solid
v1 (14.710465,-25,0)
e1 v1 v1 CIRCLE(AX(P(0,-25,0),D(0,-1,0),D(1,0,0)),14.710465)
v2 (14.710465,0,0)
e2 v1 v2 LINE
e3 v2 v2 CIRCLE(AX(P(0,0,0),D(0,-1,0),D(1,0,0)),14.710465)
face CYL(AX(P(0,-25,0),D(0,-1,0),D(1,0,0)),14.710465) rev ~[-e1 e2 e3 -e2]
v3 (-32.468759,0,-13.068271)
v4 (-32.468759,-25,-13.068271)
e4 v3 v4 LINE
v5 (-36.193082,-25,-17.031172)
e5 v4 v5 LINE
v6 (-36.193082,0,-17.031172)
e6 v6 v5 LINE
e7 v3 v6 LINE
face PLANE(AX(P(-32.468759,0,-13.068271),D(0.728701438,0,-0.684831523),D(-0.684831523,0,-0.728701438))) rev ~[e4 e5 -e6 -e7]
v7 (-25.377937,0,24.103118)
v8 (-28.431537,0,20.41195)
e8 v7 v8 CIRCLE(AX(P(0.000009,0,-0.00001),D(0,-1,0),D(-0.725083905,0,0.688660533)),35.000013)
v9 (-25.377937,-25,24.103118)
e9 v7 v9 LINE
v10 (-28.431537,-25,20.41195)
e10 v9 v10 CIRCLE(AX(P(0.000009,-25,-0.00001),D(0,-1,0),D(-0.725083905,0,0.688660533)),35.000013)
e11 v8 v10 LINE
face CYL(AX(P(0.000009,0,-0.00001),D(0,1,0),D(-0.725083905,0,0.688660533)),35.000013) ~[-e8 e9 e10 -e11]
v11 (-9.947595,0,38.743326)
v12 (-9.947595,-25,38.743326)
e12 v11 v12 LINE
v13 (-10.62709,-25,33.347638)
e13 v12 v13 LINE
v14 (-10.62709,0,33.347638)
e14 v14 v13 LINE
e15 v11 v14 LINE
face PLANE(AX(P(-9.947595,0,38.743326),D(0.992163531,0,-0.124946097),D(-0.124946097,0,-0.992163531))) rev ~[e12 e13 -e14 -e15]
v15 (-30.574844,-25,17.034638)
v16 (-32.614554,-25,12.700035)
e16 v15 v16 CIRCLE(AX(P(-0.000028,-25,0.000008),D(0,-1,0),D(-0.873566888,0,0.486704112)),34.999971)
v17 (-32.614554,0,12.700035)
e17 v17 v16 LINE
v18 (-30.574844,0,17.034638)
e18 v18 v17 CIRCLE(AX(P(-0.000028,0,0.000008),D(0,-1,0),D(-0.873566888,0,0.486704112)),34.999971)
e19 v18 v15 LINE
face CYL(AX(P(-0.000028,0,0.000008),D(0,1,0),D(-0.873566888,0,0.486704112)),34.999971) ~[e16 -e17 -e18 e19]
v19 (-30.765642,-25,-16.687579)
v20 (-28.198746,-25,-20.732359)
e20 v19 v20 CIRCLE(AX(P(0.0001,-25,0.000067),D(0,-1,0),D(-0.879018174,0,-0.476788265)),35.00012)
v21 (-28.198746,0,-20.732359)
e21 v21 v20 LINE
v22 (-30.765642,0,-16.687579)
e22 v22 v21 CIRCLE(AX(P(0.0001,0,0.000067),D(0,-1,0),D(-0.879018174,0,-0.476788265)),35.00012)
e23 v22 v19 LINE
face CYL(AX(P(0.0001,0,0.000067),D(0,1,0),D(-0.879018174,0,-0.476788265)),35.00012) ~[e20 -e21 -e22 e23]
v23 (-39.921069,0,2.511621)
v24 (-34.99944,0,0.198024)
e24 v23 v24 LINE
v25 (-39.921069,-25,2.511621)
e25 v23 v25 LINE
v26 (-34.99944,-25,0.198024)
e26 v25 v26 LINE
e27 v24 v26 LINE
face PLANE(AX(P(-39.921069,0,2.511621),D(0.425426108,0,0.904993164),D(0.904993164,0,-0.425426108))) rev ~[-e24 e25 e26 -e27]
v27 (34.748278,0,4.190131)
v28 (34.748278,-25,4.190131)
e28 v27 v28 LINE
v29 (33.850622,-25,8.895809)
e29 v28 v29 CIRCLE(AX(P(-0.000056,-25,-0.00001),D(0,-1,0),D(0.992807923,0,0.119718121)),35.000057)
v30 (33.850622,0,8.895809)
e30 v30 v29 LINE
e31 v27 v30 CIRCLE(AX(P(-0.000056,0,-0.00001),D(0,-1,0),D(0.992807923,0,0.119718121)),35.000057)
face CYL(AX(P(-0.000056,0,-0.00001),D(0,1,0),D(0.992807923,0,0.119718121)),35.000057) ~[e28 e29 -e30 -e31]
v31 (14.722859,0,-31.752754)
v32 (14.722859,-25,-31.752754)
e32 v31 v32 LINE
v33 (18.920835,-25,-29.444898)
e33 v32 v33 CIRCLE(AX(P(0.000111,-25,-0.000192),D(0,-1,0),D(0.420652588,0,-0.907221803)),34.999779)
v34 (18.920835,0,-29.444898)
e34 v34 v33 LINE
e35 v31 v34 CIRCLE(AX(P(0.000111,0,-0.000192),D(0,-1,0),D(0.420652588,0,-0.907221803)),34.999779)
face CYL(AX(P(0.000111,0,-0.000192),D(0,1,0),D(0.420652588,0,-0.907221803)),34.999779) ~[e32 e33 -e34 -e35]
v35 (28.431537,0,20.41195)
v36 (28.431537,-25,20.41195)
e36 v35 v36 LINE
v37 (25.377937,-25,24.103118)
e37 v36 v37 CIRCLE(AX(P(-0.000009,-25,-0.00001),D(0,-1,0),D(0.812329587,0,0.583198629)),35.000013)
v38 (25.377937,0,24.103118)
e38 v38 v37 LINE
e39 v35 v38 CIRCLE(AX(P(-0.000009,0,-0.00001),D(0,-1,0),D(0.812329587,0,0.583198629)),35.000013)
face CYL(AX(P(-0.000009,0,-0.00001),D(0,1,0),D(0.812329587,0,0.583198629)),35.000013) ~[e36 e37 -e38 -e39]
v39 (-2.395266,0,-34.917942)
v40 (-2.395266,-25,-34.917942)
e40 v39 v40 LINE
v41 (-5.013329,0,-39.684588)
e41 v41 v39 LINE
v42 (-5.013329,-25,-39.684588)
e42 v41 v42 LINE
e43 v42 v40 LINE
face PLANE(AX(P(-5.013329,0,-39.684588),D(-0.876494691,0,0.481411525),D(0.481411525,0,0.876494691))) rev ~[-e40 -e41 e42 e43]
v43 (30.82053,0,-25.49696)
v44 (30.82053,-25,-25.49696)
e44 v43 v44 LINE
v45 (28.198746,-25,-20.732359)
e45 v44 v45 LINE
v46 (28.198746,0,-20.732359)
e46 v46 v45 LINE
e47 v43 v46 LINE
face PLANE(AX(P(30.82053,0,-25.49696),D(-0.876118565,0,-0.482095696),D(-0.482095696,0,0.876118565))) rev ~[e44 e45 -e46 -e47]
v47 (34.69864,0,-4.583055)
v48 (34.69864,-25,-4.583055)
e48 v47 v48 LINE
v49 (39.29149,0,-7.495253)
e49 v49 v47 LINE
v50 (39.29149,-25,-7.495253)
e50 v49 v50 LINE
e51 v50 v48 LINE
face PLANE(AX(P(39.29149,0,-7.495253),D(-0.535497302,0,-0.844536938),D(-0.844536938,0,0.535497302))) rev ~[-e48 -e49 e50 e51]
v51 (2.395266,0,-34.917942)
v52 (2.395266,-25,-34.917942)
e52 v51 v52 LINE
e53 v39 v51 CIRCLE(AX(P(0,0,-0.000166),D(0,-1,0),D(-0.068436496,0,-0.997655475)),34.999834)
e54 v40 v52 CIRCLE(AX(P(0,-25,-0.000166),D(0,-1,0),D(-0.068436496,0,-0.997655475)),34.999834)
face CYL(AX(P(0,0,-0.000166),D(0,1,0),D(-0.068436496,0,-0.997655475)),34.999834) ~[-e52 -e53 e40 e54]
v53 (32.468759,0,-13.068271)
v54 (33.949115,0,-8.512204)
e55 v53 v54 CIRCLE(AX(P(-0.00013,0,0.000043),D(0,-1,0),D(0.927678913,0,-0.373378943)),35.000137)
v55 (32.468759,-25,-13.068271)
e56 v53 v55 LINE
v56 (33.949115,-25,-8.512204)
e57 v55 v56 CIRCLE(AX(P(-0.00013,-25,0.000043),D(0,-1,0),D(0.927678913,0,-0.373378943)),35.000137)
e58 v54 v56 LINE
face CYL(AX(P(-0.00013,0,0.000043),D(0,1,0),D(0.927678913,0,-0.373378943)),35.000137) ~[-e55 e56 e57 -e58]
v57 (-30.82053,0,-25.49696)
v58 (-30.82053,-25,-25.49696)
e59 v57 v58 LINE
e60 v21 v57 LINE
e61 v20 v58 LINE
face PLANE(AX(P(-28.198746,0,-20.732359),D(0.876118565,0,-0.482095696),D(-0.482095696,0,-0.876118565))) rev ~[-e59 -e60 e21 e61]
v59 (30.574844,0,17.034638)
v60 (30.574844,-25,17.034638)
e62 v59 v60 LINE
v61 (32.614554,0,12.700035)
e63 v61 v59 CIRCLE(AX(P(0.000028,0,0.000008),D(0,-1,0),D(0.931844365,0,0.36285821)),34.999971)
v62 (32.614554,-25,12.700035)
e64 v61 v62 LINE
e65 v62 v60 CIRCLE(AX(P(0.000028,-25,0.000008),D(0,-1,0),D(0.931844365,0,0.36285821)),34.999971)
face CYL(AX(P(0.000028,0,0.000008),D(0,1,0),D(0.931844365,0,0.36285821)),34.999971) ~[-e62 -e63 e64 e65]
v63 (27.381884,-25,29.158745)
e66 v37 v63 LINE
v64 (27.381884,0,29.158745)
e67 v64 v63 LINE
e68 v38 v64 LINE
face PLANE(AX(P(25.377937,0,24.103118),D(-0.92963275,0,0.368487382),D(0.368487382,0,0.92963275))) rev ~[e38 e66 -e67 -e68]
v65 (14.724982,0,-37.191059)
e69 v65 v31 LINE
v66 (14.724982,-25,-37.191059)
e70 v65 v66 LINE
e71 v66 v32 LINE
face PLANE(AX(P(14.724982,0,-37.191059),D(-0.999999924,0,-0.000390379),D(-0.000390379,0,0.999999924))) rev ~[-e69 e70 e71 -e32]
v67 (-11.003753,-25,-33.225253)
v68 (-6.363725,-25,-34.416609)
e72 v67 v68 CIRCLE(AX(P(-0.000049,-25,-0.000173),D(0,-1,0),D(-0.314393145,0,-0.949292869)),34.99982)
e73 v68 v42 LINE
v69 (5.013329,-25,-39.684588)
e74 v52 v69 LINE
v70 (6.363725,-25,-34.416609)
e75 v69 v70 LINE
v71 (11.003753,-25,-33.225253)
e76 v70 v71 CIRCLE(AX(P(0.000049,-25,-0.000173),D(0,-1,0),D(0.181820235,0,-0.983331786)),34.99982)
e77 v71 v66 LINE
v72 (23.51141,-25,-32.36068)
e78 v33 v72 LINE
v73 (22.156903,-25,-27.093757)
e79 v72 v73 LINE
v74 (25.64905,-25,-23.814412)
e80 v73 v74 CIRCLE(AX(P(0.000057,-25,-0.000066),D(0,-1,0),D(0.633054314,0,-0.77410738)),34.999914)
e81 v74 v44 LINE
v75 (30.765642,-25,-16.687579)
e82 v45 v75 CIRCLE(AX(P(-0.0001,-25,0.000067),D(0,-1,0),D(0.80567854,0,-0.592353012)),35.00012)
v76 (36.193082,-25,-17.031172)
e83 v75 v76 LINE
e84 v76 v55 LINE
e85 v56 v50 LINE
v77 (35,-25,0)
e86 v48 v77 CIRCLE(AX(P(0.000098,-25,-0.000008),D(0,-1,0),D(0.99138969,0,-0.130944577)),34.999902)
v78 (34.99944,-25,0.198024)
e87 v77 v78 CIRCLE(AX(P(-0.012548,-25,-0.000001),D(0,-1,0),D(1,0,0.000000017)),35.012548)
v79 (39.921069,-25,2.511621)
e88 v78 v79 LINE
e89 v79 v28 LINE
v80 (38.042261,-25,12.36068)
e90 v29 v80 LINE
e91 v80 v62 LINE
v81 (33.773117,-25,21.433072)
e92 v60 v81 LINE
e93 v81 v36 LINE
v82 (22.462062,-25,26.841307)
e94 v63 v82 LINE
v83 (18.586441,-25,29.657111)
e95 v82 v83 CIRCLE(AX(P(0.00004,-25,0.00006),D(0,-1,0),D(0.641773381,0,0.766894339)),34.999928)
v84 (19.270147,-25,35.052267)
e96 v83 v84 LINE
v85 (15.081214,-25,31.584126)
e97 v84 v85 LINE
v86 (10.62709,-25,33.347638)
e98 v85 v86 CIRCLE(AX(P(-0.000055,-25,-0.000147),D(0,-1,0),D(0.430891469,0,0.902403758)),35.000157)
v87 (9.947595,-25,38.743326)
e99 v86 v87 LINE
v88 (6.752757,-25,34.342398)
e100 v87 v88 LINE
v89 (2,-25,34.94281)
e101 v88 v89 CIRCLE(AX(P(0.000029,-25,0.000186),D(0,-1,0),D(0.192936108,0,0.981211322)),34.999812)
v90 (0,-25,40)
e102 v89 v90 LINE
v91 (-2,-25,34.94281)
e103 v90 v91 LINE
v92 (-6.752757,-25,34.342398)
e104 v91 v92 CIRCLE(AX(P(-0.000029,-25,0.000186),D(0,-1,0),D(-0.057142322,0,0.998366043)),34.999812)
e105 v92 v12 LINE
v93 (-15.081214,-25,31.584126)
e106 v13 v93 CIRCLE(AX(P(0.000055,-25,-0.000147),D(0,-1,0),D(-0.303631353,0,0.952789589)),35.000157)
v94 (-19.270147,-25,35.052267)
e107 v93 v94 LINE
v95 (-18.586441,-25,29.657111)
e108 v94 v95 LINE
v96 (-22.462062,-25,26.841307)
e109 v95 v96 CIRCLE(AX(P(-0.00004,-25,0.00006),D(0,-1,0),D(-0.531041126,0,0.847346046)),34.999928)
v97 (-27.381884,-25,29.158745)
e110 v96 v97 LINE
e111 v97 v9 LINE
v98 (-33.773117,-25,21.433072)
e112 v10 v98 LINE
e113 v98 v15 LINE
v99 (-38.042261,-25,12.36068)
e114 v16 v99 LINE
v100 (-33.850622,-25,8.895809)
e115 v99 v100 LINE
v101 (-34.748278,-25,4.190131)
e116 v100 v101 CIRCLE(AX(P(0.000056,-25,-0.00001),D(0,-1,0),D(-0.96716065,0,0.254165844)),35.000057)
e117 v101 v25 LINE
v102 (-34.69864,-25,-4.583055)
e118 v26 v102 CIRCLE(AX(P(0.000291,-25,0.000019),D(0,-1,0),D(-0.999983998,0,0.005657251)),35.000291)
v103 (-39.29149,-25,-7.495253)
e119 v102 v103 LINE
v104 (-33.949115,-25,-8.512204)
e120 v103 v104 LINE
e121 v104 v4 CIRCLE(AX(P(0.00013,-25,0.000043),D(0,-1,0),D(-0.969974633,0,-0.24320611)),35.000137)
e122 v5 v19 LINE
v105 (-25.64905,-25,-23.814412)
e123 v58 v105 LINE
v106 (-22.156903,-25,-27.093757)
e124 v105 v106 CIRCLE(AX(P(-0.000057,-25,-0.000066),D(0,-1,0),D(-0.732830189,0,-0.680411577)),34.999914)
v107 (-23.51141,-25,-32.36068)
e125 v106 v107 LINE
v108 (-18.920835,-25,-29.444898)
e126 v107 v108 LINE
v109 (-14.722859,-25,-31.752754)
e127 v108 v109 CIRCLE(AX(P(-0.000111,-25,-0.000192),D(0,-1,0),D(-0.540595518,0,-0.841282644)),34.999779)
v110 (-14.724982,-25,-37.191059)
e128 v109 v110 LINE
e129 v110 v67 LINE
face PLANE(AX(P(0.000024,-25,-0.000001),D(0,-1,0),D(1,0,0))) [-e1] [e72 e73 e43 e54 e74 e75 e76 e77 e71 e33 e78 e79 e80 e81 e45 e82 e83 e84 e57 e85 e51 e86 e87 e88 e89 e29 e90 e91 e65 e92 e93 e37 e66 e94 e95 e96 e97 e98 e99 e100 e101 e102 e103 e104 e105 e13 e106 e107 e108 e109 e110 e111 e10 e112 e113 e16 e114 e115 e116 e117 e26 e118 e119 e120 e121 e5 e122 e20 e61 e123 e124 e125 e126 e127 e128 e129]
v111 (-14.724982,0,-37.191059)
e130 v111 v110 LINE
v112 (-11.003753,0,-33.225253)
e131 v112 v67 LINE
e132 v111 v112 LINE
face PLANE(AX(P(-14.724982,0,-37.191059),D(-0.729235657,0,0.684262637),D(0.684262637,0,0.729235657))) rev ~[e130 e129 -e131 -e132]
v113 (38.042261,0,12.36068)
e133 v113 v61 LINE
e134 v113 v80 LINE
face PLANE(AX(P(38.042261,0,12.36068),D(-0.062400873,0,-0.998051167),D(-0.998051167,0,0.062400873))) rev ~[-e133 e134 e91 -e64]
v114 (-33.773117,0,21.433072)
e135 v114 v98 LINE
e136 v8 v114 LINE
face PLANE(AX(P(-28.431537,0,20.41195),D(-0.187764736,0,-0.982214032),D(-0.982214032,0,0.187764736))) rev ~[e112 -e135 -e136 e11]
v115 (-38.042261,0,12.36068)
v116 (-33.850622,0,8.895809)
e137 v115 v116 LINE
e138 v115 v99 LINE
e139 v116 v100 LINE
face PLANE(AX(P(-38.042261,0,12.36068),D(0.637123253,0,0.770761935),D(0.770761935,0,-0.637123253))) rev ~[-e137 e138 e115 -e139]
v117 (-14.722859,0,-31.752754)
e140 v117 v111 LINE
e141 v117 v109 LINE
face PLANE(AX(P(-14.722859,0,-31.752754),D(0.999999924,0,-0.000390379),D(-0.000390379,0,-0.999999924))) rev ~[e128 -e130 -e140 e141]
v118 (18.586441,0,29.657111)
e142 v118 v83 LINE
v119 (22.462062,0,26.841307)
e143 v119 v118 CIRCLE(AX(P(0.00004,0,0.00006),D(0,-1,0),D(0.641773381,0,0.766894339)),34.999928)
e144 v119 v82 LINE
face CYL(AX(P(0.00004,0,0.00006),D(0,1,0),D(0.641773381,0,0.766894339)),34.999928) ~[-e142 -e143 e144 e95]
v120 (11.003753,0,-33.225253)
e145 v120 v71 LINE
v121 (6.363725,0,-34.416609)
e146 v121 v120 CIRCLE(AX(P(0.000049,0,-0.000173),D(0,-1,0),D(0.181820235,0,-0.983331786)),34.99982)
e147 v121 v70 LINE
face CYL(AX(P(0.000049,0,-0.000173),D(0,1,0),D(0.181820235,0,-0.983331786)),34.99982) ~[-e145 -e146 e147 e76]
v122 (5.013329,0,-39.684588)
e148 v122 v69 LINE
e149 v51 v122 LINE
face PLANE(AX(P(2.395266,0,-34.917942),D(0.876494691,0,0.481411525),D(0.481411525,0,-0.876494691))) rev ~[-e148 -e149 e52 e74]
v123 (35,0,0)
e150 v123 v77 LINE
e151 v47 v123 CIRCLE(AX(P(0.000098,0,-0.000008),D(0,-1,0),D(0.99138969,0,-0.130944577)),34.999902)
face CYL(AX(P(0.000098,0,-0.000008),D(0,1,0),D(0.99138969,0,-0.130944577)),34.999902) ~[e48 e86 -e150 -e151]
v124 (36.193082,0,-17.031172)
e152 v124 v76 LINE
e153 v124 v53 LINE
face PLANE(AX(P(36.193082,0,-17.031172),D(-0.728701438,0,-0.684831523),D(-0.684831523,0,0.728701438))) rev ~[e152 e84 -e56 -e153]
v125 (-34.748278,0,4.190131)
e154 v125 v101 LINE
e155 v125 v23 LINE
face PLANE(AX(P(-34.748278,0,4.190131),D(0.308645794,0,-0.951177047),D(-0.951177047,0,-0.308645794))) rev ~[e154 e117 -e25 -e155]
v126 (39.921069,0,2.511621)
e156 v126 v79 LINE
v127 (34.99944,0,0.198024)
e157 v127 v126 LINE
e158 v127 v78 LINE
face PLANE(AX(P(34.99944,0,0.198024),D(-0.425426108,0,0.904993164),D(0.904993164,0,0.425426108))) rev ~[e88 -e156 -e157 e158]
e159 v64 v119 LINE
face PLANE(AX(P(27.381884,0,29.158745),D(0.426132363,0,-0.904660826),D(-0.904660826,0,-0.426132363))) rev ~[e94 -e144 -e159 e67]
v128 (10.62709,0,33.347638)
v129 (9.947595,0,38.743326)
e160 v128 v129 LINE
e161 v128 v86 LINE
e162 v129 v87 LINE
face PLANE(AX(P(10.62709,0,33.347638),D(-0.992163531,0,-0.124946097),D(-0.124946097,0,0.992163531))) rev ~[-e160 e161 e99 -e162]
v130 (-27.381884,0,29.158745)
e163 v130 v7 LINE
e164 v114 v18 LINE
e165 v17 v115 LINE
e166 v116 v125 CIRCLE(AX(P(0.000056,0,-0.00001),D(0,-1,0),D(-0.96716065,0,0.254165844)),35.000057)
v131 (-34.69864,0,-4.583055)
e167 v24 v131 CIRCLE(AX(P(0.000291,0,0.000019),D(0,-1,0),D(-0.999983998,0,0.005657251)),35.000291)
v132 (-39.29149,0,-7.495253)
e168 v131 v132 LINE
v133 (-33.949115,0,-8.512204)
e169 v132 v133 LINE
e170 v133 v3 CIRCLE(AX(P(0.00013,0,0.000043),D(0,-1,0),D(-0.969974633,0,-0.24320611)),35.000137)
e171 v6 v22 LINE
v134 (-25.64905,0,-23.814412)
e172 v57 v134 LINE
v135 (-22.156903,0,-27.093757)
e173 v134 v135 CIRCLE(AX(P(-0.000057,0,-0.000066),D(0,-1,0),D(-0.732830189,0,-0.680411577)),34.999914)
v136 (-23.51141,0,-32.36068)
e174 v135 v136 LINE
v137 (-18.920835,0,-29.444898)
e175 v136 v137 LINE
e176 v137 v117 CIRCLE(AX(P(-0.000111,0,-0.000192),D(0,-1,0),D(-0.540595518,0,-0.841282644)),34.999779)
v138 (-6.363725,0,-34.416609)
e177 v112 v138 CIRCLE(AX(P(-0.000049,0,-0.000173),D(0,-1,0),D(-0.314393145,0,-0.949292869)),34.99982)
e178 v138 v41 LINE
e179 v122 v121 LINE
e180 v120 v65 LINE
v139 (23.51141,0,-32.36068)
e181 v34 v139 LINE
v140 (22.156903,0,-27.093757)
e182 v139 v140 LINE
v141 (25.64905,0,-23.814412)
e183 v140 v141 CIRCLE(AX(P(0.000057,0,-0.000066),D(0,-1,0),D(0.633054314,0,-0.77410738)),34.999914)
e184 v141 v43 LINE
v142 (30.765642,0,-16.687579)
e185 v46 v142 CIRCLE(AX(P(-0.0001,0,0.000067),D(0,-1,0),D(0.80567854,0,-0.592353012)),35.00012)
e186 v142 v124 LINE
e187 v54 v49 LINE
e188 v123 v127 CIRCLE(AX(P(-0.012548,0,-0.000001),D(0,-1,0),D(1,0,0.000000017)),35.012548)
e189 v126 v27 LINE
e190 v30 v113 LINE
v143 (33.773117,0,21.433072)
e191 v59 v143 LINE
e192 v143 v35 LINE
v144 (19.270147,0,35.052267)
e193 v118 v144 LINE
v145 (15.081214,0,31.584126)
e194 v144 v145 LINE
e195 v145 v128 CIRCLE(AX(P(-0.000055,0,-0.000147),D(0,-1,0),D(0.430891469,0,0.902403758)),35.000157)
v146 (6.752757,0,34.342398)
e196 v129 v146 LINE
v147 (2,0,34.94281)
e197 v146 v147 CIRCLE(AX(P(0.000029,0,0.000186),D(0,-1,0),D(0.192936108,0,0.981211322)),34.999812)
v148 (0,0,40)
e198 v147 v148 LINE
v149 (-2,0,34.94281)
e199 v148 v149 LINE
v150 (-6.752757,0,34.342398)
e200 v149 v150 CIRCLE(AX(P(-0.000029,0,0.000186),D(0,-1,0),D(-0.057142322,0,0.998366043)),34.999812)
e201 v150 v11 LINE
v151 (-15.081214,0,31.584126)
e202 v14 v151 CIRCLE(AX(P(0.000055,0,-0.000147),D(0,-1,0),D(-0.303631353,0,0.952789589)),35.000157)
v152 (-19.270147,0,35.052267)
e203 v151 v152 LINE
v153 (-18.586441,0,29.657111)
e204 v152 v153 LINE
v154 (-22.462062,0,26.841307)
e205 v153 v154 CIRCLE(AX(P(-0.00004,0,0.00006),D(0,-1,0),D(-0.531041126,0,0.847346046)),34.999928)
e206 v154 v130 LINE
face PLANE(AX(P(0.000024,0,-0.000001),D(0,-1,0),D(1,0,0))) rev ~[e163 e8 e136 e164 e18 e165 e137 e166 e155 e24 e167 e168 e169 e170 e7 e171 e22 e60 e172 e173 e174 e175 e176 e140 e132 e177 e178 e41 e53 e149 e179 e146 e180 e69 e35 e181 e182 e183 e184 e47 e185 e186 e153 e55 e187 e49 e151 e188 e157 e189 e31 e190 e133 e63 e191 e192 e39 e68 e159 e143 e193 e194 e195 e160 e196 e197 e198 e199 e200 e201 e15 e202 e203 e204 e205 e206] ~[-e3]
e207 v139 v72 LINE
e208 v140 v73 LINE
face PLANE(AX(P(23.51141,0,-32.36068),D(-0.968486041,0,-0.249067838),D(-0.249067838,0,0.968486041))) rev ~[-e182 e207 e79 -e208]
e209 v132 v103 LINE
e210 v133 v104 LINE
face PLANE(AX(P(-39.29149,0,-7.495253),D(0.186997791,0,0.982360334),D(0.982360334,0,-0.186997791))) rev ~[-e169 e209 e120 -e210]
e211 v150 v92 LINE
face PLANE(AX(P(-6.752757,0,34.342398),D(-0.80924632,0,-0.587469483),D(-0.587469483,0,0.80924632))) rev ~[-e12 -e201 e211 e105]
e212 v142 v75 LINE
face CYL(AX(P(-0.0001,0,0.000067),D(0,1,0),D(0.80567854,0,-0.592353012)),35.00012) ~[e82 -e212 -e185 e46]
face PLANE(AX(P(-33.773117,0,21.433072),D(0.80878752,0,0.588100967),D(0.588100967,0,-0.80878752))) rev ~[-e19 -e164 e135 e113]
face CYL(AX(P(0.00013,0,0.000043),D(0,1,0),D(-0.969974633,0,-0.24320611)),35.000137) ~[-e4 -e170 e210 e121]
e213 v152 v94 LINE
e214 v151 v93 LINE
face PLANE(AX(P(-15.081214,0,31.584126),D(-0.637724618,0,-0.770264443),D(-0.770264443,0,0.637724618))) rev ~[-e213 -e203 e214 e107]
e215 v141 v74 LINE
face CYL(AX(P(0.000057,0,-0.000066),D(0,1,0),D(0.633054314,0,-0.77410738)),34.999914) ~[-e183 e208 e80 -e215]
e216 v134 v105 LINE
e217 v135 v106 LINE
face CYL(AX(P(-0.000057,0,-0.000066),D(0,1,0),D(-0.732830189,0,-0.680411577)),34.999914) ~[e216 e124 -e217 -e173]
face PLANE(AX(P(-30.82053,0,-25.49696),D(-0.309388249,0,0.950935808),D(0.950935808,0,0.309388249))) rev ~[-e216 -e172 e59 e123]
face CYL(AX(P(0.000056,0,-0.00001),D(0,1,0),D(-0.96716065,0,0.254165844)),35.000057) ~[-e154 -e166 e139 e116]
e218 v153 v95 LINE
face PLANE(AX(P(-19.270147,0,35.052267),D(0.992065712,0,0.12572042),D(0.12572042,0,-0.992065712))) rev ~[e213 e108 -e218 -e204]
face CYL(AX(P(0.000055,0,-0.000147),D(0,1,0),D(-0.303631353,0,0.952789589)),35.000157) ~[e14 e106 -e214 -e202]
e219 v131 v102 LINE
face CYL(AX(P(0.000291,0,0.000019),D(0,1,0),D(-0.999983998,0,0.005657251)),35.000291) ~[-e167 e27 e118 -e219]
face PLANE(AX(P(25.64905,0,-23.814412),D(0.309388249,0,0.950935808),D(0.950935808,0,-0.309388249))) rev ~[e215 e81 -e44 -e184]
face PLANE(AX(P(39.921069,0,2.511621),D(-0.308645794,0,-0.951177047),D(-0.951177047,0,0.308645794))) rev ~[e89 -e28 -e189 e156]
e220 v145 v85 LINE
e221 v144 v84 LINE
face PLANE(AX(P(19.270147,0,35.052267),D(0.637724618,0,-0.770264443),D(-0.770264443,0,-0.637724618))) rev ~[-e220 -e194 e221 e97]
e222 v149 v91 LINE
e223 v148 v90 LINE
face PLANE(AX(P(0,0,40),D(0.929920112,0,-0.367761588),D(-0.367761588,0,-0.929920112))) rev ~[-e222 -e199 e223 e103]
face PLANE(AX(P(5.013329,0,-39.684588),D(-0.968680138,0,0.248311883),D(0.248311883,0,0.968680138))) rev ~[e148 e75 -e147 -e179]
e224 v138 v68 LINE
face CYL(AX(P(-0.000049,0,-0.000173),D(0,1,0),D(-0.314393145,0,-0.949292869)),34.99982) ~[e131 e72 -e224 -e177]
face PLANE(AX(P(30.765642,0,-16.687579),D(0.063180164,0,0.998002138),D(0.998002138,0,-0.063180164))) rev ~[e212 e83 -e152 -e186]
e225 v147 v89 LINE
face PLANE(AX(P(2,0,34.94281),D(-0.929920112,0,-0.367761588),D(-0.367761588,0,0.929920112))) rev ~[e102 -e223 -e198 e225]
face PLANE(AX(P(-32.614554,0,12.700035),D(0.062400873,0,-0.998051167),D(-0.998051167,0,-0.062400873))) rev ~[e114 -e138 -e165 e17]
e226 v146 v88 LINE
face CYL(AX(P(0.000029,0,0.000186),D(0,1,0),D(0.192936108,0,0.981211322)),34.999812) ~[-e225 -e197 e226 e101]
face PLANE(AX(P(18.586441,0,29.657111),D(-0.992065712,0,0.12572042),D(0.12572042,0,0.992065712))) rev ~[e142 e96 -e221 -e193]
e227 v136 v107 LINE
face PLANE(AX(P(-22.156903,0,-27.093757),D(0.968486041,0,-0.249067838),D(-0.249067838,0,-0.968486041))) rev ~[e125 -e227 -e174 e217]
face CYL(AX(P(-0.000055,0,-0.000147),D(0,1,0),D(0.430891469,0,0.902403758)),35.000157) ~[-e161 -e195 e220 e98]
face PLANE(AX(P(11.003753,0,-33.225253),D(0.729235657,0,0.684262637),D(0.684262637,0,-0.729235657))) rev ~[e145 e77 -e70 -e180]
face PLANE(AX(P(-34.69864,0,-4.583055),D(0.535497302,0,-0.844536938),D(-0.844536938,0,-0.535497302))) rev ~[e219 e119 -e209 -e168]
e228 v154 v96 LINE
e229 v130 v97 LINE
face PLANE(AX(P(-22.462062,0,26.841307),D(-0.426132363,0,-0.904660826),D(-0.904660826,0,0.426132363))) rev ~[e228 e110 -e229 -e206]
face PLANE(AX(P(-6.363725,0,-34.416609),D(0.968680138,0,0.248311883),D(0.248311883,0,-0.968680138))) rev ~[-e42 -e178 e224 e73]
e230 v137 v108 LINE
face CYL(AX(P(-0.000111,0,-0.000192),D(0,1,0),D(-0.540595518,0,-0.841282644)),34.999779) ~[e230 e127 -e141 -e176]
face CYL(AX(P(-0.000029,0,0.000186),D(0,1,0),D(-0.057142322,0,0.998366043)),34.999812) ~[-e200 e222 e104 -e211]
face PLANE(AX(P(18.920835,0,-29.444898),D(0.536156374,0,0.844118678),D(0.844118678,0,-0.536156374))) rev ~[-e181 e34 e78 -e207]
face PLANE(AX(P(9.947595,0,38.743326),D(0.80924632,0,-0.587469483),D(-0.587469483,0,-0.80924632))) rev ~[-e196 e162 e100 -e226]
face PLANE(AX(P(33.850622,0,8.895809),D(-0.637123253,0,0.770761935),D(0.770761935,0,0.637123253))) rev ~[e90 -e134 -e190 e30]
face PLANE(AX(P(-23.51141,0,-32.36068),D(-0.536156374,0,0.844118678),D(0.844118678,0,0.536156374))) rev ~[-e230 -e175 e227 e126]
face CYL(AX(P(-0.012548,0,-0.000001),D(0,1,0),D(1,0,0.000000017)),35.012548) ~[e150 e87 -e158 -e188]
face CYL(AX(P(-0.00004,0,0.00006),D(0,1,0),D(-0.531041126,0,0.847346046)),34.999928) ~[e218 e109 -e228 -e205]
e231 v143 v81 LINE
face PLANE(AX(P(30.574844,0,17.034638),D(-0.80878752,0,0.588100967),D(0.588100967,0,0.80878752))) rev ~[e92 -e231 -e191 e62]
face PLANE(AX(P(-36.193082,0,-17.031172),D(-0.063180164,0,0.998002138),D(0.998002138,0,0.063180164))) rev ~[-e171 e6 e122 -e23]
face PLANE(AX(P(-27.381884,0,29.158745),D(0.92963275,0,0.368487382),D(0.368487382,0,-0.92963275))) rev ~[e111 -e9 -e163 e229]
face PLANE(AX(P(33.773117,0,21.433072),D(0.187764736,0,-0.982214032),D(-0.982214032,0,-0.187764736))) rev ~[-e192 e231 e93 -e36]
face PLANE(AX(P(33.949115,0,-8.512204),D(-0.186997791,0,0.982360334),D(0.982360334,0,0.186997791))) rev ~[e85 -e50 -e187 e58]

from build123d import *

# Parameters (mm, degrees)
F1_DEPTH = 25
F2_R     = 14.710465
F3_DEPTH = 123


with BuildPart() as f1:
    # F0 (on Front) → F1 (new body)
    with BuildSketch(Plane.XZ):
        with BuildLine():
            ThreePointArc((34.69864, -4.583055), (34.924579, -2.296476), (35, 0))
            ThreePointArc((35, 0), (34.99986, 0.099012), (34.99944, 0.198024))
            ThreePointArc((34.99944, 0.198024), (34.930935, 2.197668), (34.748278, 4.190131))
            ThreePointArc((34.748278, 4.190131), (34.380054, 6.558346), (33.850622, 8.895809))
            ThreePointArc((33.850622, 8.895809), (33.286978, 10.815595), (32.614554, 12.700035))
            ThreePointArc((32.614554, 12.700035), (31.668947, 14.902275), (30.574844, 17.034638))
            ThreePointArc((30.574844, 17.034638), (29.551477, 18.753938), (28.431537, 20.41195))
            ThreePointArc((28.431537, 20.41195), (26.967963, 22.30984), (25.377937, 24.103118))
            ThreePointArc((25.377937, 24.103118), (23.959149, 25.513902), (22.462062, 26.841307))
            ThreePointArc((22.462062, 26.841307), (20.572484, 28.315595), (18.586441, 29.657111))
            ThreePointArc((18.586441, 29.657111), (16.861379, 30.670734), (15.081214, 31.584126))
            ThreePointArc((15.081214, 31.584126), (12.884359, 32.542177), (10.62709, 33.347638))
            ThreePointArc((10.62709, 33.347638), (8.704146, 33.900411), (6.752757, 34.342398))
            ThreePointArc((6.752757, 34.342398), (4.386663, 34.724015), (2, 34.94281))
            ThreePointArc((2, 34.94281), (0, 35), (-2, 34.94281))
            ThreePointArc((-2, 34.94281), (-4.386663, 34.724015), (-6.752757, 34.342398))
            ThreePointArc((-6.752757, 34.342398), (-8.704146, 33.900411), (-10.62709, 33.347638))
            ThreePointArc((-10.62709, 33.347638), (-12.884359, 32.542177), (-15.081214, 31.584126))
            ThreePointArc((-15.081214, 31.584126), (-16.861379, 30.670734), (-18.586441, 29.657111))
            ThreePointArc((-18.586441, 29.657111), (-20.572484, 28.315595), (-22.462062, 26.841307))
            ThreePointArc((-22.462062, 26.841307), (-23.959149, 25.513902), (-25.377937, 24.103118))
            ThreePointArc((-25.377937, 24.103118), (-26.967963, 22.30984), (-28.431537, 20.41195))
            ThreePointArc((-28.431537, 20.41195), (-29.551477, 18.753938), (-30.574844, 17.034638))
            ThreePointArc((-30.574844, 17.034638), (-31.668947, 14.902275), (-32.614554, 12.700035))
            ThreePointArc((-32.614554, 12.700035), (-33.286978, 10.815595), (-33.850622, 8.895809))
            ThreePointArc((-33.850622, 8.895809), (-34.380054, 6.558346), (-34.748278, 4.190131))
            ThreePointArc((-34.748278, 4.190131), (-34.930935, 2.197668), (-34.99944, 0.198024))
            ThreePointArc((-34.99944, 0.198024), (-34.930935, -2.197668), (-34.69864, -4.583055))
            ThreePointArc((-34.69864, -4.583055), (-34.380054, -6.558346), (-33.949115, -8.512204))
            ThreePointArc((-33.949115, -8.512204), (-33.286978, -10.815595), (-32.468759, -13.068271))
            ThreePointArc((-32.468759, -13.068271), (-31.668947, -14.902275), (-30.765642, -16.687579))
            ThreePointArc((-30.765642, -16.687579), (-29.551477, -18.753938), (-28.198746, -20.732359))
            ThreePointArc((-28.198746, -20.732359), (-26.967963, -22.30984), (-25.64905, -23.814412))
            ThreePointArc((-25.64905, -23.814412), (-23.959149, -25.513902), (-22.156903, -27.093757))
            ThreePointArc((-22.156903, -27.093757), (-20.572484, -28.315595), (-18.920835, -29.444898))
            ThreePointArc((-18.920835, -29.444898), (-16.861379, -30.670734), (-14.722859, -31.752754))
            ThreePointArc((-14.722859, -31.752754), (-12.884359, -32.542177), (-11.003753, -33.225253))
            ThreePointArc((-11.003753, -33.225253), (-8.704146, -33.900411), (-6.363725, -34.416609))
            ThreePointArc((-6.363725, -34.416609), (-4.386663, -34.724015), (-2.395266, -34.917942))
            ThreePointArc((-2.395266, -34.917942), (0, -35), (2.395266, -34.917942))
            ThreePointArc((2.395266, -34.917942), (4.386663, -34.724015), (6.363725, -34.416609))
            ThreePointArc((6.363725, -34.416609), (8.704146, -33.900411), (11.003753, -33.225253))
            ThreePointArc((11.003753, -33.225253), (12.884359, -32.542177), (14.722859, -31.752754))
            ThreePointArc((14.722859, -31.752754), (16.861379, -30.670734), (18.920835, -29.444898))
            ThreePointArc((18.920835, -29.444898), (20.572484, -28.315595), (22.156903, -27.093757))
            ThreePointArc((22.156903, -27.093757), (23.959149, -25.513902), (25.64905, -23.814412))
            ThreePointArc((25.64905, -23.814412), (26.967963, -22.30984), (28.198746, -20.732359))
            ThreePointArc((28.198746, -20.732359), (29.551477, -18.753938), (30.765642, -16.687579))
            ThreePointArc((30.765642, -16.687579), (31.668947, -14.902275), (32.468759, -13.068271))
            ThreePointArc((32.468759, -13.068271), (33.286978, -10.815595), (33.949115, -8.512204))
            ThreePointArc((33.949115, -8.512204), (34.380054, -6.558346), (34.69864, -4.583055))
        make_face()
        with BuildLine():
            ThreePointArc((34.748278, 4.190131), (34.930935, 2.197668), (34.99944, 0.198024))
            Line((34.99944, 0.198024), (39.921069, 2.511621))
            Line((39.921069, 2.511621), (34.748278, 4.190131))
        make_face()
        with BuildLine():
            Line((39.29149, -7.495253), (34.69864, -4.583055))
            ThreePointArc((34.69864, -4.583055), (34.380054, -6.558346), (33.949115, -8.512204))
            Line((33.949115, -8.512204), (39.29149, -7.495253))
        make_face()
        with BuildLine():
            ThreePointArc((32.614554, 12.700035), (33.286978, 10.815595), (33.850622, 8.895809))
            Line((33.850622, 8.895809), (38.042261, 12.36068))
            Line((38.042261, 12.36068), (32.614554, 12.700035))
        make_face()
        with BuildLine():
            Line((36.193082, -17.031172), (32.468759, -13.068271))
            ThreePointArc((32.468759, -13.068271), (31.668947, -14.902275), (30.765642, -16.687579))
            Line((30.765642, -16.687579), (36.193082, -17.031172))
        make_face()
        with BuildLine():
            ThreePointArc((28.431537, 20.41195), (29.551477, 18.753938), (30.574844, 17.034638))
            Line((30.574844, 17.034638), (33.773117, 21.433072))
            Line((33.773117, 21.433072), (28.431537, 20.41195))
        make_face()
        with BuildLine():
            Line((30.82053, -25.49696), (28.198746, -20.732359))
            ThreePointArc((28.198746, -20.732359), (26.967963, -22.30984), (25.64905, -23.814412))
            Line((25.64905, -23.814412), (30.82053, -25.49696))
        make_face()
        with BuildLine():
            ThreePointArc((22.462062, 26.841307), (23.959149, 25.513902), (25.377937, 24.103118))
            Line((25.377937, 24.103118), (27.381884, 29.158745))
            Line((27.381884, 29.158745), (22.462062, 26.841307))
        make_face()
        with BuildLine():
            Line((23.51141, -32.36068), (22.156903, -27.093757))
            ThreePointArc((22.156903, -27.093757), (20.572484, -28.315595), (18.920835, -29.444898))
            Line((18.920835, -29.444898), (23.51141, -32.36068))
        make_face()
        with BuildLine():
            ThreePointArc((15.081214, 31.584126), (16.861379, 30.670734), (18.586441, 29.657111))
            Line((18.586441, 29.657111), (19.270147, 35.052267))
            Line((19.270147, 35.052267), (15.081214, 31.584126))
        make_face()
        with BuildLine():
            Line((14.724982, -37.191059), (14.722859, -31.752754))
            ThreePointArc((14.722859, -31.752754), (12.884359, -32.542177), (11.003753, -33.225253))
            Line((11.003753, -33.225253), (14.724982, -37.191059))
        make_face()
        with BuildLine():
            ThreePointArc((6.752757, 34.342398), (8.704146, 33.900411), (10.62709, 33.347638))
            Line((10.62709, 33.347638), (9.947595, 38.743326))
            Line((9.947595, 38.743326), (6.752757, 34.342398))
        make_face()
        with BuildLine():
            Line((5.013329, -39.684588), (6.363725, -34.416609))
            ThreePointArc((6.363725, -34.416609), (4.386663, -34.724015), (2.395266, -34.917942))
            Line((2.395266, -34.917942), (5.013329, -39.684588))
        make_face()
        with BuildLine():
            ThreePointArc((-2, 34.94281), (0, 35), (2, 34.94281))
            Line((2, 34.94281), (0, 40))
            Line((0, 40), (-2, 34.94281))
        make_face()
        with BuildLine():
            Line((-5.013329, -39.684588), (-2.395266, -34.917942))
            ThreePointArc((-2.395266, -34.917942), (-4.386663, -34.724015), (-6.363725, -34.416609))
            Line((-6.363725, -34.416609), (-5.013329, -39.684588))
        make_face()
        with BuildLine():
            ThreePointArc((-10.62709, 33.347638), (-8.704146, 33.900411), (-6.752757, 34.342398))
            Line((-6.752757, 34.342398), (-9.947595, 38.743326))
            Line((-9.947595, 38.743326), (-10.62709, 33.347638))
        make_face()
        with BuildLine():
            Line((-14.724982, -37.191059), (-11.003753, -33.225253))
            ThreePointArc((-11.003753, -33.225253), (-12.884359, -32.542177), (-14.722859, -31.752754))
            Line((-14.722859, -31.752754), (-14.724982, -37.191059))
        make_face()
        with BuildLine():
            ThreePointArc((-18.586441, 29.657111), (-16.861379, 30.670734), (-15.081214, 31.584126))
            Line((-15.081214, 31.584126), (-19.270147, 35.052267))
            Line((-19.270147, 35.052267), (-18.586441, 29.657111))
        make_face()
        with BuildLine():
            Line((-23.51141, -32.36068), (-18.920835, -29.444898))
            ThreePointArc((-18.920835, -29.444898), (-20.572484, -28.315595), (-22.156903, -27.093757))
            Line((-22.156903, -27.093757), (-23.51141, -32.36068))
        make_face()
        with BuildLine():
            ThreePointArc((-25.377937, 24.103118), (-23.959149, 25.513902), (-22.462062, 26.841307))
            Line((-22.462062, 26.841307), (-27.381884, 29.158745))
            Line((-27.381884, 29.158745), (-25.377937, 24.103118))
        make_face()
        with BuildLine():
            Line((-30.82053, -25.49696), (-25.64905, -23.814412))
            ThreePointArc((-25.64905, -23.814412), (-26.967963, -22.30984), (-28.198746, -20.732359))
            Line((-28.198746, -20.732359), (-30.82053, -25.49696))
        make_face()
        with BuildLine():
            ThreePointArc((-30.574844, 17.034638), (-29.551477, 18.753938), (-28.431537, 20.41195))
            Line((-28.431537, 20.41195), (-33.773117, 21.433072))
            Line((-33.773117, 21.433072), (-30.574844, 17.034638))
        make_face()
        with BuildLine():
            Line((-36.193082, -17.031172), (-30.765642, -16.687579))
            ThreePointArc((-30.765642, -16.687579), (-31.668947, -14.902275), (-32.468759, -13.068271))
            Line((-32.468759, -13.068271), (-36.193082, -17.031172))
        make_face()
        with BuildLine():
            ThreePointArc((-33.850622, 8.895809), (-33.286978, 10.815595), (-32.614554, 12.700035))
            Line((-32.614554, 12.700035), (-38.042261, 12.36068))
            Line((-38.042261, 12.36068), (-33.850622, 8.895809))
        make_face()
        with BuildLine():
            Line((-39.29149, -7.495253), (-33.949115, -8.512204))
            ThreePointArc((-33.949115, -8.512204), (-34.380054, -6.558346), (-34.69864, -4.583055))
            Line((-34.69864, -4.583055), (-39.29149, -7.495253))
        make_face()
        with BuildLine():
            ThreePointArc((-34.99944, 0.198024), (-34.930935, 2.197668), (-34.748278, 4.190131))
            Line((-34.748278, 4.190131), (-39.921069, 2.511621))
            Line((-39.921069, 2.511621), (-34.99944, 0.198024))
        make_face()
    extrude(amount=F1_DEPTH)

    # F2 (on face) → F3 (cut)
    with BuildSketch(Plane.XZ.offset(25)):
        Circle(F2_R)
    extrude(amount=-F3_DEPTH, mode=Mode.SUBTRACT)


solid = f1.part
